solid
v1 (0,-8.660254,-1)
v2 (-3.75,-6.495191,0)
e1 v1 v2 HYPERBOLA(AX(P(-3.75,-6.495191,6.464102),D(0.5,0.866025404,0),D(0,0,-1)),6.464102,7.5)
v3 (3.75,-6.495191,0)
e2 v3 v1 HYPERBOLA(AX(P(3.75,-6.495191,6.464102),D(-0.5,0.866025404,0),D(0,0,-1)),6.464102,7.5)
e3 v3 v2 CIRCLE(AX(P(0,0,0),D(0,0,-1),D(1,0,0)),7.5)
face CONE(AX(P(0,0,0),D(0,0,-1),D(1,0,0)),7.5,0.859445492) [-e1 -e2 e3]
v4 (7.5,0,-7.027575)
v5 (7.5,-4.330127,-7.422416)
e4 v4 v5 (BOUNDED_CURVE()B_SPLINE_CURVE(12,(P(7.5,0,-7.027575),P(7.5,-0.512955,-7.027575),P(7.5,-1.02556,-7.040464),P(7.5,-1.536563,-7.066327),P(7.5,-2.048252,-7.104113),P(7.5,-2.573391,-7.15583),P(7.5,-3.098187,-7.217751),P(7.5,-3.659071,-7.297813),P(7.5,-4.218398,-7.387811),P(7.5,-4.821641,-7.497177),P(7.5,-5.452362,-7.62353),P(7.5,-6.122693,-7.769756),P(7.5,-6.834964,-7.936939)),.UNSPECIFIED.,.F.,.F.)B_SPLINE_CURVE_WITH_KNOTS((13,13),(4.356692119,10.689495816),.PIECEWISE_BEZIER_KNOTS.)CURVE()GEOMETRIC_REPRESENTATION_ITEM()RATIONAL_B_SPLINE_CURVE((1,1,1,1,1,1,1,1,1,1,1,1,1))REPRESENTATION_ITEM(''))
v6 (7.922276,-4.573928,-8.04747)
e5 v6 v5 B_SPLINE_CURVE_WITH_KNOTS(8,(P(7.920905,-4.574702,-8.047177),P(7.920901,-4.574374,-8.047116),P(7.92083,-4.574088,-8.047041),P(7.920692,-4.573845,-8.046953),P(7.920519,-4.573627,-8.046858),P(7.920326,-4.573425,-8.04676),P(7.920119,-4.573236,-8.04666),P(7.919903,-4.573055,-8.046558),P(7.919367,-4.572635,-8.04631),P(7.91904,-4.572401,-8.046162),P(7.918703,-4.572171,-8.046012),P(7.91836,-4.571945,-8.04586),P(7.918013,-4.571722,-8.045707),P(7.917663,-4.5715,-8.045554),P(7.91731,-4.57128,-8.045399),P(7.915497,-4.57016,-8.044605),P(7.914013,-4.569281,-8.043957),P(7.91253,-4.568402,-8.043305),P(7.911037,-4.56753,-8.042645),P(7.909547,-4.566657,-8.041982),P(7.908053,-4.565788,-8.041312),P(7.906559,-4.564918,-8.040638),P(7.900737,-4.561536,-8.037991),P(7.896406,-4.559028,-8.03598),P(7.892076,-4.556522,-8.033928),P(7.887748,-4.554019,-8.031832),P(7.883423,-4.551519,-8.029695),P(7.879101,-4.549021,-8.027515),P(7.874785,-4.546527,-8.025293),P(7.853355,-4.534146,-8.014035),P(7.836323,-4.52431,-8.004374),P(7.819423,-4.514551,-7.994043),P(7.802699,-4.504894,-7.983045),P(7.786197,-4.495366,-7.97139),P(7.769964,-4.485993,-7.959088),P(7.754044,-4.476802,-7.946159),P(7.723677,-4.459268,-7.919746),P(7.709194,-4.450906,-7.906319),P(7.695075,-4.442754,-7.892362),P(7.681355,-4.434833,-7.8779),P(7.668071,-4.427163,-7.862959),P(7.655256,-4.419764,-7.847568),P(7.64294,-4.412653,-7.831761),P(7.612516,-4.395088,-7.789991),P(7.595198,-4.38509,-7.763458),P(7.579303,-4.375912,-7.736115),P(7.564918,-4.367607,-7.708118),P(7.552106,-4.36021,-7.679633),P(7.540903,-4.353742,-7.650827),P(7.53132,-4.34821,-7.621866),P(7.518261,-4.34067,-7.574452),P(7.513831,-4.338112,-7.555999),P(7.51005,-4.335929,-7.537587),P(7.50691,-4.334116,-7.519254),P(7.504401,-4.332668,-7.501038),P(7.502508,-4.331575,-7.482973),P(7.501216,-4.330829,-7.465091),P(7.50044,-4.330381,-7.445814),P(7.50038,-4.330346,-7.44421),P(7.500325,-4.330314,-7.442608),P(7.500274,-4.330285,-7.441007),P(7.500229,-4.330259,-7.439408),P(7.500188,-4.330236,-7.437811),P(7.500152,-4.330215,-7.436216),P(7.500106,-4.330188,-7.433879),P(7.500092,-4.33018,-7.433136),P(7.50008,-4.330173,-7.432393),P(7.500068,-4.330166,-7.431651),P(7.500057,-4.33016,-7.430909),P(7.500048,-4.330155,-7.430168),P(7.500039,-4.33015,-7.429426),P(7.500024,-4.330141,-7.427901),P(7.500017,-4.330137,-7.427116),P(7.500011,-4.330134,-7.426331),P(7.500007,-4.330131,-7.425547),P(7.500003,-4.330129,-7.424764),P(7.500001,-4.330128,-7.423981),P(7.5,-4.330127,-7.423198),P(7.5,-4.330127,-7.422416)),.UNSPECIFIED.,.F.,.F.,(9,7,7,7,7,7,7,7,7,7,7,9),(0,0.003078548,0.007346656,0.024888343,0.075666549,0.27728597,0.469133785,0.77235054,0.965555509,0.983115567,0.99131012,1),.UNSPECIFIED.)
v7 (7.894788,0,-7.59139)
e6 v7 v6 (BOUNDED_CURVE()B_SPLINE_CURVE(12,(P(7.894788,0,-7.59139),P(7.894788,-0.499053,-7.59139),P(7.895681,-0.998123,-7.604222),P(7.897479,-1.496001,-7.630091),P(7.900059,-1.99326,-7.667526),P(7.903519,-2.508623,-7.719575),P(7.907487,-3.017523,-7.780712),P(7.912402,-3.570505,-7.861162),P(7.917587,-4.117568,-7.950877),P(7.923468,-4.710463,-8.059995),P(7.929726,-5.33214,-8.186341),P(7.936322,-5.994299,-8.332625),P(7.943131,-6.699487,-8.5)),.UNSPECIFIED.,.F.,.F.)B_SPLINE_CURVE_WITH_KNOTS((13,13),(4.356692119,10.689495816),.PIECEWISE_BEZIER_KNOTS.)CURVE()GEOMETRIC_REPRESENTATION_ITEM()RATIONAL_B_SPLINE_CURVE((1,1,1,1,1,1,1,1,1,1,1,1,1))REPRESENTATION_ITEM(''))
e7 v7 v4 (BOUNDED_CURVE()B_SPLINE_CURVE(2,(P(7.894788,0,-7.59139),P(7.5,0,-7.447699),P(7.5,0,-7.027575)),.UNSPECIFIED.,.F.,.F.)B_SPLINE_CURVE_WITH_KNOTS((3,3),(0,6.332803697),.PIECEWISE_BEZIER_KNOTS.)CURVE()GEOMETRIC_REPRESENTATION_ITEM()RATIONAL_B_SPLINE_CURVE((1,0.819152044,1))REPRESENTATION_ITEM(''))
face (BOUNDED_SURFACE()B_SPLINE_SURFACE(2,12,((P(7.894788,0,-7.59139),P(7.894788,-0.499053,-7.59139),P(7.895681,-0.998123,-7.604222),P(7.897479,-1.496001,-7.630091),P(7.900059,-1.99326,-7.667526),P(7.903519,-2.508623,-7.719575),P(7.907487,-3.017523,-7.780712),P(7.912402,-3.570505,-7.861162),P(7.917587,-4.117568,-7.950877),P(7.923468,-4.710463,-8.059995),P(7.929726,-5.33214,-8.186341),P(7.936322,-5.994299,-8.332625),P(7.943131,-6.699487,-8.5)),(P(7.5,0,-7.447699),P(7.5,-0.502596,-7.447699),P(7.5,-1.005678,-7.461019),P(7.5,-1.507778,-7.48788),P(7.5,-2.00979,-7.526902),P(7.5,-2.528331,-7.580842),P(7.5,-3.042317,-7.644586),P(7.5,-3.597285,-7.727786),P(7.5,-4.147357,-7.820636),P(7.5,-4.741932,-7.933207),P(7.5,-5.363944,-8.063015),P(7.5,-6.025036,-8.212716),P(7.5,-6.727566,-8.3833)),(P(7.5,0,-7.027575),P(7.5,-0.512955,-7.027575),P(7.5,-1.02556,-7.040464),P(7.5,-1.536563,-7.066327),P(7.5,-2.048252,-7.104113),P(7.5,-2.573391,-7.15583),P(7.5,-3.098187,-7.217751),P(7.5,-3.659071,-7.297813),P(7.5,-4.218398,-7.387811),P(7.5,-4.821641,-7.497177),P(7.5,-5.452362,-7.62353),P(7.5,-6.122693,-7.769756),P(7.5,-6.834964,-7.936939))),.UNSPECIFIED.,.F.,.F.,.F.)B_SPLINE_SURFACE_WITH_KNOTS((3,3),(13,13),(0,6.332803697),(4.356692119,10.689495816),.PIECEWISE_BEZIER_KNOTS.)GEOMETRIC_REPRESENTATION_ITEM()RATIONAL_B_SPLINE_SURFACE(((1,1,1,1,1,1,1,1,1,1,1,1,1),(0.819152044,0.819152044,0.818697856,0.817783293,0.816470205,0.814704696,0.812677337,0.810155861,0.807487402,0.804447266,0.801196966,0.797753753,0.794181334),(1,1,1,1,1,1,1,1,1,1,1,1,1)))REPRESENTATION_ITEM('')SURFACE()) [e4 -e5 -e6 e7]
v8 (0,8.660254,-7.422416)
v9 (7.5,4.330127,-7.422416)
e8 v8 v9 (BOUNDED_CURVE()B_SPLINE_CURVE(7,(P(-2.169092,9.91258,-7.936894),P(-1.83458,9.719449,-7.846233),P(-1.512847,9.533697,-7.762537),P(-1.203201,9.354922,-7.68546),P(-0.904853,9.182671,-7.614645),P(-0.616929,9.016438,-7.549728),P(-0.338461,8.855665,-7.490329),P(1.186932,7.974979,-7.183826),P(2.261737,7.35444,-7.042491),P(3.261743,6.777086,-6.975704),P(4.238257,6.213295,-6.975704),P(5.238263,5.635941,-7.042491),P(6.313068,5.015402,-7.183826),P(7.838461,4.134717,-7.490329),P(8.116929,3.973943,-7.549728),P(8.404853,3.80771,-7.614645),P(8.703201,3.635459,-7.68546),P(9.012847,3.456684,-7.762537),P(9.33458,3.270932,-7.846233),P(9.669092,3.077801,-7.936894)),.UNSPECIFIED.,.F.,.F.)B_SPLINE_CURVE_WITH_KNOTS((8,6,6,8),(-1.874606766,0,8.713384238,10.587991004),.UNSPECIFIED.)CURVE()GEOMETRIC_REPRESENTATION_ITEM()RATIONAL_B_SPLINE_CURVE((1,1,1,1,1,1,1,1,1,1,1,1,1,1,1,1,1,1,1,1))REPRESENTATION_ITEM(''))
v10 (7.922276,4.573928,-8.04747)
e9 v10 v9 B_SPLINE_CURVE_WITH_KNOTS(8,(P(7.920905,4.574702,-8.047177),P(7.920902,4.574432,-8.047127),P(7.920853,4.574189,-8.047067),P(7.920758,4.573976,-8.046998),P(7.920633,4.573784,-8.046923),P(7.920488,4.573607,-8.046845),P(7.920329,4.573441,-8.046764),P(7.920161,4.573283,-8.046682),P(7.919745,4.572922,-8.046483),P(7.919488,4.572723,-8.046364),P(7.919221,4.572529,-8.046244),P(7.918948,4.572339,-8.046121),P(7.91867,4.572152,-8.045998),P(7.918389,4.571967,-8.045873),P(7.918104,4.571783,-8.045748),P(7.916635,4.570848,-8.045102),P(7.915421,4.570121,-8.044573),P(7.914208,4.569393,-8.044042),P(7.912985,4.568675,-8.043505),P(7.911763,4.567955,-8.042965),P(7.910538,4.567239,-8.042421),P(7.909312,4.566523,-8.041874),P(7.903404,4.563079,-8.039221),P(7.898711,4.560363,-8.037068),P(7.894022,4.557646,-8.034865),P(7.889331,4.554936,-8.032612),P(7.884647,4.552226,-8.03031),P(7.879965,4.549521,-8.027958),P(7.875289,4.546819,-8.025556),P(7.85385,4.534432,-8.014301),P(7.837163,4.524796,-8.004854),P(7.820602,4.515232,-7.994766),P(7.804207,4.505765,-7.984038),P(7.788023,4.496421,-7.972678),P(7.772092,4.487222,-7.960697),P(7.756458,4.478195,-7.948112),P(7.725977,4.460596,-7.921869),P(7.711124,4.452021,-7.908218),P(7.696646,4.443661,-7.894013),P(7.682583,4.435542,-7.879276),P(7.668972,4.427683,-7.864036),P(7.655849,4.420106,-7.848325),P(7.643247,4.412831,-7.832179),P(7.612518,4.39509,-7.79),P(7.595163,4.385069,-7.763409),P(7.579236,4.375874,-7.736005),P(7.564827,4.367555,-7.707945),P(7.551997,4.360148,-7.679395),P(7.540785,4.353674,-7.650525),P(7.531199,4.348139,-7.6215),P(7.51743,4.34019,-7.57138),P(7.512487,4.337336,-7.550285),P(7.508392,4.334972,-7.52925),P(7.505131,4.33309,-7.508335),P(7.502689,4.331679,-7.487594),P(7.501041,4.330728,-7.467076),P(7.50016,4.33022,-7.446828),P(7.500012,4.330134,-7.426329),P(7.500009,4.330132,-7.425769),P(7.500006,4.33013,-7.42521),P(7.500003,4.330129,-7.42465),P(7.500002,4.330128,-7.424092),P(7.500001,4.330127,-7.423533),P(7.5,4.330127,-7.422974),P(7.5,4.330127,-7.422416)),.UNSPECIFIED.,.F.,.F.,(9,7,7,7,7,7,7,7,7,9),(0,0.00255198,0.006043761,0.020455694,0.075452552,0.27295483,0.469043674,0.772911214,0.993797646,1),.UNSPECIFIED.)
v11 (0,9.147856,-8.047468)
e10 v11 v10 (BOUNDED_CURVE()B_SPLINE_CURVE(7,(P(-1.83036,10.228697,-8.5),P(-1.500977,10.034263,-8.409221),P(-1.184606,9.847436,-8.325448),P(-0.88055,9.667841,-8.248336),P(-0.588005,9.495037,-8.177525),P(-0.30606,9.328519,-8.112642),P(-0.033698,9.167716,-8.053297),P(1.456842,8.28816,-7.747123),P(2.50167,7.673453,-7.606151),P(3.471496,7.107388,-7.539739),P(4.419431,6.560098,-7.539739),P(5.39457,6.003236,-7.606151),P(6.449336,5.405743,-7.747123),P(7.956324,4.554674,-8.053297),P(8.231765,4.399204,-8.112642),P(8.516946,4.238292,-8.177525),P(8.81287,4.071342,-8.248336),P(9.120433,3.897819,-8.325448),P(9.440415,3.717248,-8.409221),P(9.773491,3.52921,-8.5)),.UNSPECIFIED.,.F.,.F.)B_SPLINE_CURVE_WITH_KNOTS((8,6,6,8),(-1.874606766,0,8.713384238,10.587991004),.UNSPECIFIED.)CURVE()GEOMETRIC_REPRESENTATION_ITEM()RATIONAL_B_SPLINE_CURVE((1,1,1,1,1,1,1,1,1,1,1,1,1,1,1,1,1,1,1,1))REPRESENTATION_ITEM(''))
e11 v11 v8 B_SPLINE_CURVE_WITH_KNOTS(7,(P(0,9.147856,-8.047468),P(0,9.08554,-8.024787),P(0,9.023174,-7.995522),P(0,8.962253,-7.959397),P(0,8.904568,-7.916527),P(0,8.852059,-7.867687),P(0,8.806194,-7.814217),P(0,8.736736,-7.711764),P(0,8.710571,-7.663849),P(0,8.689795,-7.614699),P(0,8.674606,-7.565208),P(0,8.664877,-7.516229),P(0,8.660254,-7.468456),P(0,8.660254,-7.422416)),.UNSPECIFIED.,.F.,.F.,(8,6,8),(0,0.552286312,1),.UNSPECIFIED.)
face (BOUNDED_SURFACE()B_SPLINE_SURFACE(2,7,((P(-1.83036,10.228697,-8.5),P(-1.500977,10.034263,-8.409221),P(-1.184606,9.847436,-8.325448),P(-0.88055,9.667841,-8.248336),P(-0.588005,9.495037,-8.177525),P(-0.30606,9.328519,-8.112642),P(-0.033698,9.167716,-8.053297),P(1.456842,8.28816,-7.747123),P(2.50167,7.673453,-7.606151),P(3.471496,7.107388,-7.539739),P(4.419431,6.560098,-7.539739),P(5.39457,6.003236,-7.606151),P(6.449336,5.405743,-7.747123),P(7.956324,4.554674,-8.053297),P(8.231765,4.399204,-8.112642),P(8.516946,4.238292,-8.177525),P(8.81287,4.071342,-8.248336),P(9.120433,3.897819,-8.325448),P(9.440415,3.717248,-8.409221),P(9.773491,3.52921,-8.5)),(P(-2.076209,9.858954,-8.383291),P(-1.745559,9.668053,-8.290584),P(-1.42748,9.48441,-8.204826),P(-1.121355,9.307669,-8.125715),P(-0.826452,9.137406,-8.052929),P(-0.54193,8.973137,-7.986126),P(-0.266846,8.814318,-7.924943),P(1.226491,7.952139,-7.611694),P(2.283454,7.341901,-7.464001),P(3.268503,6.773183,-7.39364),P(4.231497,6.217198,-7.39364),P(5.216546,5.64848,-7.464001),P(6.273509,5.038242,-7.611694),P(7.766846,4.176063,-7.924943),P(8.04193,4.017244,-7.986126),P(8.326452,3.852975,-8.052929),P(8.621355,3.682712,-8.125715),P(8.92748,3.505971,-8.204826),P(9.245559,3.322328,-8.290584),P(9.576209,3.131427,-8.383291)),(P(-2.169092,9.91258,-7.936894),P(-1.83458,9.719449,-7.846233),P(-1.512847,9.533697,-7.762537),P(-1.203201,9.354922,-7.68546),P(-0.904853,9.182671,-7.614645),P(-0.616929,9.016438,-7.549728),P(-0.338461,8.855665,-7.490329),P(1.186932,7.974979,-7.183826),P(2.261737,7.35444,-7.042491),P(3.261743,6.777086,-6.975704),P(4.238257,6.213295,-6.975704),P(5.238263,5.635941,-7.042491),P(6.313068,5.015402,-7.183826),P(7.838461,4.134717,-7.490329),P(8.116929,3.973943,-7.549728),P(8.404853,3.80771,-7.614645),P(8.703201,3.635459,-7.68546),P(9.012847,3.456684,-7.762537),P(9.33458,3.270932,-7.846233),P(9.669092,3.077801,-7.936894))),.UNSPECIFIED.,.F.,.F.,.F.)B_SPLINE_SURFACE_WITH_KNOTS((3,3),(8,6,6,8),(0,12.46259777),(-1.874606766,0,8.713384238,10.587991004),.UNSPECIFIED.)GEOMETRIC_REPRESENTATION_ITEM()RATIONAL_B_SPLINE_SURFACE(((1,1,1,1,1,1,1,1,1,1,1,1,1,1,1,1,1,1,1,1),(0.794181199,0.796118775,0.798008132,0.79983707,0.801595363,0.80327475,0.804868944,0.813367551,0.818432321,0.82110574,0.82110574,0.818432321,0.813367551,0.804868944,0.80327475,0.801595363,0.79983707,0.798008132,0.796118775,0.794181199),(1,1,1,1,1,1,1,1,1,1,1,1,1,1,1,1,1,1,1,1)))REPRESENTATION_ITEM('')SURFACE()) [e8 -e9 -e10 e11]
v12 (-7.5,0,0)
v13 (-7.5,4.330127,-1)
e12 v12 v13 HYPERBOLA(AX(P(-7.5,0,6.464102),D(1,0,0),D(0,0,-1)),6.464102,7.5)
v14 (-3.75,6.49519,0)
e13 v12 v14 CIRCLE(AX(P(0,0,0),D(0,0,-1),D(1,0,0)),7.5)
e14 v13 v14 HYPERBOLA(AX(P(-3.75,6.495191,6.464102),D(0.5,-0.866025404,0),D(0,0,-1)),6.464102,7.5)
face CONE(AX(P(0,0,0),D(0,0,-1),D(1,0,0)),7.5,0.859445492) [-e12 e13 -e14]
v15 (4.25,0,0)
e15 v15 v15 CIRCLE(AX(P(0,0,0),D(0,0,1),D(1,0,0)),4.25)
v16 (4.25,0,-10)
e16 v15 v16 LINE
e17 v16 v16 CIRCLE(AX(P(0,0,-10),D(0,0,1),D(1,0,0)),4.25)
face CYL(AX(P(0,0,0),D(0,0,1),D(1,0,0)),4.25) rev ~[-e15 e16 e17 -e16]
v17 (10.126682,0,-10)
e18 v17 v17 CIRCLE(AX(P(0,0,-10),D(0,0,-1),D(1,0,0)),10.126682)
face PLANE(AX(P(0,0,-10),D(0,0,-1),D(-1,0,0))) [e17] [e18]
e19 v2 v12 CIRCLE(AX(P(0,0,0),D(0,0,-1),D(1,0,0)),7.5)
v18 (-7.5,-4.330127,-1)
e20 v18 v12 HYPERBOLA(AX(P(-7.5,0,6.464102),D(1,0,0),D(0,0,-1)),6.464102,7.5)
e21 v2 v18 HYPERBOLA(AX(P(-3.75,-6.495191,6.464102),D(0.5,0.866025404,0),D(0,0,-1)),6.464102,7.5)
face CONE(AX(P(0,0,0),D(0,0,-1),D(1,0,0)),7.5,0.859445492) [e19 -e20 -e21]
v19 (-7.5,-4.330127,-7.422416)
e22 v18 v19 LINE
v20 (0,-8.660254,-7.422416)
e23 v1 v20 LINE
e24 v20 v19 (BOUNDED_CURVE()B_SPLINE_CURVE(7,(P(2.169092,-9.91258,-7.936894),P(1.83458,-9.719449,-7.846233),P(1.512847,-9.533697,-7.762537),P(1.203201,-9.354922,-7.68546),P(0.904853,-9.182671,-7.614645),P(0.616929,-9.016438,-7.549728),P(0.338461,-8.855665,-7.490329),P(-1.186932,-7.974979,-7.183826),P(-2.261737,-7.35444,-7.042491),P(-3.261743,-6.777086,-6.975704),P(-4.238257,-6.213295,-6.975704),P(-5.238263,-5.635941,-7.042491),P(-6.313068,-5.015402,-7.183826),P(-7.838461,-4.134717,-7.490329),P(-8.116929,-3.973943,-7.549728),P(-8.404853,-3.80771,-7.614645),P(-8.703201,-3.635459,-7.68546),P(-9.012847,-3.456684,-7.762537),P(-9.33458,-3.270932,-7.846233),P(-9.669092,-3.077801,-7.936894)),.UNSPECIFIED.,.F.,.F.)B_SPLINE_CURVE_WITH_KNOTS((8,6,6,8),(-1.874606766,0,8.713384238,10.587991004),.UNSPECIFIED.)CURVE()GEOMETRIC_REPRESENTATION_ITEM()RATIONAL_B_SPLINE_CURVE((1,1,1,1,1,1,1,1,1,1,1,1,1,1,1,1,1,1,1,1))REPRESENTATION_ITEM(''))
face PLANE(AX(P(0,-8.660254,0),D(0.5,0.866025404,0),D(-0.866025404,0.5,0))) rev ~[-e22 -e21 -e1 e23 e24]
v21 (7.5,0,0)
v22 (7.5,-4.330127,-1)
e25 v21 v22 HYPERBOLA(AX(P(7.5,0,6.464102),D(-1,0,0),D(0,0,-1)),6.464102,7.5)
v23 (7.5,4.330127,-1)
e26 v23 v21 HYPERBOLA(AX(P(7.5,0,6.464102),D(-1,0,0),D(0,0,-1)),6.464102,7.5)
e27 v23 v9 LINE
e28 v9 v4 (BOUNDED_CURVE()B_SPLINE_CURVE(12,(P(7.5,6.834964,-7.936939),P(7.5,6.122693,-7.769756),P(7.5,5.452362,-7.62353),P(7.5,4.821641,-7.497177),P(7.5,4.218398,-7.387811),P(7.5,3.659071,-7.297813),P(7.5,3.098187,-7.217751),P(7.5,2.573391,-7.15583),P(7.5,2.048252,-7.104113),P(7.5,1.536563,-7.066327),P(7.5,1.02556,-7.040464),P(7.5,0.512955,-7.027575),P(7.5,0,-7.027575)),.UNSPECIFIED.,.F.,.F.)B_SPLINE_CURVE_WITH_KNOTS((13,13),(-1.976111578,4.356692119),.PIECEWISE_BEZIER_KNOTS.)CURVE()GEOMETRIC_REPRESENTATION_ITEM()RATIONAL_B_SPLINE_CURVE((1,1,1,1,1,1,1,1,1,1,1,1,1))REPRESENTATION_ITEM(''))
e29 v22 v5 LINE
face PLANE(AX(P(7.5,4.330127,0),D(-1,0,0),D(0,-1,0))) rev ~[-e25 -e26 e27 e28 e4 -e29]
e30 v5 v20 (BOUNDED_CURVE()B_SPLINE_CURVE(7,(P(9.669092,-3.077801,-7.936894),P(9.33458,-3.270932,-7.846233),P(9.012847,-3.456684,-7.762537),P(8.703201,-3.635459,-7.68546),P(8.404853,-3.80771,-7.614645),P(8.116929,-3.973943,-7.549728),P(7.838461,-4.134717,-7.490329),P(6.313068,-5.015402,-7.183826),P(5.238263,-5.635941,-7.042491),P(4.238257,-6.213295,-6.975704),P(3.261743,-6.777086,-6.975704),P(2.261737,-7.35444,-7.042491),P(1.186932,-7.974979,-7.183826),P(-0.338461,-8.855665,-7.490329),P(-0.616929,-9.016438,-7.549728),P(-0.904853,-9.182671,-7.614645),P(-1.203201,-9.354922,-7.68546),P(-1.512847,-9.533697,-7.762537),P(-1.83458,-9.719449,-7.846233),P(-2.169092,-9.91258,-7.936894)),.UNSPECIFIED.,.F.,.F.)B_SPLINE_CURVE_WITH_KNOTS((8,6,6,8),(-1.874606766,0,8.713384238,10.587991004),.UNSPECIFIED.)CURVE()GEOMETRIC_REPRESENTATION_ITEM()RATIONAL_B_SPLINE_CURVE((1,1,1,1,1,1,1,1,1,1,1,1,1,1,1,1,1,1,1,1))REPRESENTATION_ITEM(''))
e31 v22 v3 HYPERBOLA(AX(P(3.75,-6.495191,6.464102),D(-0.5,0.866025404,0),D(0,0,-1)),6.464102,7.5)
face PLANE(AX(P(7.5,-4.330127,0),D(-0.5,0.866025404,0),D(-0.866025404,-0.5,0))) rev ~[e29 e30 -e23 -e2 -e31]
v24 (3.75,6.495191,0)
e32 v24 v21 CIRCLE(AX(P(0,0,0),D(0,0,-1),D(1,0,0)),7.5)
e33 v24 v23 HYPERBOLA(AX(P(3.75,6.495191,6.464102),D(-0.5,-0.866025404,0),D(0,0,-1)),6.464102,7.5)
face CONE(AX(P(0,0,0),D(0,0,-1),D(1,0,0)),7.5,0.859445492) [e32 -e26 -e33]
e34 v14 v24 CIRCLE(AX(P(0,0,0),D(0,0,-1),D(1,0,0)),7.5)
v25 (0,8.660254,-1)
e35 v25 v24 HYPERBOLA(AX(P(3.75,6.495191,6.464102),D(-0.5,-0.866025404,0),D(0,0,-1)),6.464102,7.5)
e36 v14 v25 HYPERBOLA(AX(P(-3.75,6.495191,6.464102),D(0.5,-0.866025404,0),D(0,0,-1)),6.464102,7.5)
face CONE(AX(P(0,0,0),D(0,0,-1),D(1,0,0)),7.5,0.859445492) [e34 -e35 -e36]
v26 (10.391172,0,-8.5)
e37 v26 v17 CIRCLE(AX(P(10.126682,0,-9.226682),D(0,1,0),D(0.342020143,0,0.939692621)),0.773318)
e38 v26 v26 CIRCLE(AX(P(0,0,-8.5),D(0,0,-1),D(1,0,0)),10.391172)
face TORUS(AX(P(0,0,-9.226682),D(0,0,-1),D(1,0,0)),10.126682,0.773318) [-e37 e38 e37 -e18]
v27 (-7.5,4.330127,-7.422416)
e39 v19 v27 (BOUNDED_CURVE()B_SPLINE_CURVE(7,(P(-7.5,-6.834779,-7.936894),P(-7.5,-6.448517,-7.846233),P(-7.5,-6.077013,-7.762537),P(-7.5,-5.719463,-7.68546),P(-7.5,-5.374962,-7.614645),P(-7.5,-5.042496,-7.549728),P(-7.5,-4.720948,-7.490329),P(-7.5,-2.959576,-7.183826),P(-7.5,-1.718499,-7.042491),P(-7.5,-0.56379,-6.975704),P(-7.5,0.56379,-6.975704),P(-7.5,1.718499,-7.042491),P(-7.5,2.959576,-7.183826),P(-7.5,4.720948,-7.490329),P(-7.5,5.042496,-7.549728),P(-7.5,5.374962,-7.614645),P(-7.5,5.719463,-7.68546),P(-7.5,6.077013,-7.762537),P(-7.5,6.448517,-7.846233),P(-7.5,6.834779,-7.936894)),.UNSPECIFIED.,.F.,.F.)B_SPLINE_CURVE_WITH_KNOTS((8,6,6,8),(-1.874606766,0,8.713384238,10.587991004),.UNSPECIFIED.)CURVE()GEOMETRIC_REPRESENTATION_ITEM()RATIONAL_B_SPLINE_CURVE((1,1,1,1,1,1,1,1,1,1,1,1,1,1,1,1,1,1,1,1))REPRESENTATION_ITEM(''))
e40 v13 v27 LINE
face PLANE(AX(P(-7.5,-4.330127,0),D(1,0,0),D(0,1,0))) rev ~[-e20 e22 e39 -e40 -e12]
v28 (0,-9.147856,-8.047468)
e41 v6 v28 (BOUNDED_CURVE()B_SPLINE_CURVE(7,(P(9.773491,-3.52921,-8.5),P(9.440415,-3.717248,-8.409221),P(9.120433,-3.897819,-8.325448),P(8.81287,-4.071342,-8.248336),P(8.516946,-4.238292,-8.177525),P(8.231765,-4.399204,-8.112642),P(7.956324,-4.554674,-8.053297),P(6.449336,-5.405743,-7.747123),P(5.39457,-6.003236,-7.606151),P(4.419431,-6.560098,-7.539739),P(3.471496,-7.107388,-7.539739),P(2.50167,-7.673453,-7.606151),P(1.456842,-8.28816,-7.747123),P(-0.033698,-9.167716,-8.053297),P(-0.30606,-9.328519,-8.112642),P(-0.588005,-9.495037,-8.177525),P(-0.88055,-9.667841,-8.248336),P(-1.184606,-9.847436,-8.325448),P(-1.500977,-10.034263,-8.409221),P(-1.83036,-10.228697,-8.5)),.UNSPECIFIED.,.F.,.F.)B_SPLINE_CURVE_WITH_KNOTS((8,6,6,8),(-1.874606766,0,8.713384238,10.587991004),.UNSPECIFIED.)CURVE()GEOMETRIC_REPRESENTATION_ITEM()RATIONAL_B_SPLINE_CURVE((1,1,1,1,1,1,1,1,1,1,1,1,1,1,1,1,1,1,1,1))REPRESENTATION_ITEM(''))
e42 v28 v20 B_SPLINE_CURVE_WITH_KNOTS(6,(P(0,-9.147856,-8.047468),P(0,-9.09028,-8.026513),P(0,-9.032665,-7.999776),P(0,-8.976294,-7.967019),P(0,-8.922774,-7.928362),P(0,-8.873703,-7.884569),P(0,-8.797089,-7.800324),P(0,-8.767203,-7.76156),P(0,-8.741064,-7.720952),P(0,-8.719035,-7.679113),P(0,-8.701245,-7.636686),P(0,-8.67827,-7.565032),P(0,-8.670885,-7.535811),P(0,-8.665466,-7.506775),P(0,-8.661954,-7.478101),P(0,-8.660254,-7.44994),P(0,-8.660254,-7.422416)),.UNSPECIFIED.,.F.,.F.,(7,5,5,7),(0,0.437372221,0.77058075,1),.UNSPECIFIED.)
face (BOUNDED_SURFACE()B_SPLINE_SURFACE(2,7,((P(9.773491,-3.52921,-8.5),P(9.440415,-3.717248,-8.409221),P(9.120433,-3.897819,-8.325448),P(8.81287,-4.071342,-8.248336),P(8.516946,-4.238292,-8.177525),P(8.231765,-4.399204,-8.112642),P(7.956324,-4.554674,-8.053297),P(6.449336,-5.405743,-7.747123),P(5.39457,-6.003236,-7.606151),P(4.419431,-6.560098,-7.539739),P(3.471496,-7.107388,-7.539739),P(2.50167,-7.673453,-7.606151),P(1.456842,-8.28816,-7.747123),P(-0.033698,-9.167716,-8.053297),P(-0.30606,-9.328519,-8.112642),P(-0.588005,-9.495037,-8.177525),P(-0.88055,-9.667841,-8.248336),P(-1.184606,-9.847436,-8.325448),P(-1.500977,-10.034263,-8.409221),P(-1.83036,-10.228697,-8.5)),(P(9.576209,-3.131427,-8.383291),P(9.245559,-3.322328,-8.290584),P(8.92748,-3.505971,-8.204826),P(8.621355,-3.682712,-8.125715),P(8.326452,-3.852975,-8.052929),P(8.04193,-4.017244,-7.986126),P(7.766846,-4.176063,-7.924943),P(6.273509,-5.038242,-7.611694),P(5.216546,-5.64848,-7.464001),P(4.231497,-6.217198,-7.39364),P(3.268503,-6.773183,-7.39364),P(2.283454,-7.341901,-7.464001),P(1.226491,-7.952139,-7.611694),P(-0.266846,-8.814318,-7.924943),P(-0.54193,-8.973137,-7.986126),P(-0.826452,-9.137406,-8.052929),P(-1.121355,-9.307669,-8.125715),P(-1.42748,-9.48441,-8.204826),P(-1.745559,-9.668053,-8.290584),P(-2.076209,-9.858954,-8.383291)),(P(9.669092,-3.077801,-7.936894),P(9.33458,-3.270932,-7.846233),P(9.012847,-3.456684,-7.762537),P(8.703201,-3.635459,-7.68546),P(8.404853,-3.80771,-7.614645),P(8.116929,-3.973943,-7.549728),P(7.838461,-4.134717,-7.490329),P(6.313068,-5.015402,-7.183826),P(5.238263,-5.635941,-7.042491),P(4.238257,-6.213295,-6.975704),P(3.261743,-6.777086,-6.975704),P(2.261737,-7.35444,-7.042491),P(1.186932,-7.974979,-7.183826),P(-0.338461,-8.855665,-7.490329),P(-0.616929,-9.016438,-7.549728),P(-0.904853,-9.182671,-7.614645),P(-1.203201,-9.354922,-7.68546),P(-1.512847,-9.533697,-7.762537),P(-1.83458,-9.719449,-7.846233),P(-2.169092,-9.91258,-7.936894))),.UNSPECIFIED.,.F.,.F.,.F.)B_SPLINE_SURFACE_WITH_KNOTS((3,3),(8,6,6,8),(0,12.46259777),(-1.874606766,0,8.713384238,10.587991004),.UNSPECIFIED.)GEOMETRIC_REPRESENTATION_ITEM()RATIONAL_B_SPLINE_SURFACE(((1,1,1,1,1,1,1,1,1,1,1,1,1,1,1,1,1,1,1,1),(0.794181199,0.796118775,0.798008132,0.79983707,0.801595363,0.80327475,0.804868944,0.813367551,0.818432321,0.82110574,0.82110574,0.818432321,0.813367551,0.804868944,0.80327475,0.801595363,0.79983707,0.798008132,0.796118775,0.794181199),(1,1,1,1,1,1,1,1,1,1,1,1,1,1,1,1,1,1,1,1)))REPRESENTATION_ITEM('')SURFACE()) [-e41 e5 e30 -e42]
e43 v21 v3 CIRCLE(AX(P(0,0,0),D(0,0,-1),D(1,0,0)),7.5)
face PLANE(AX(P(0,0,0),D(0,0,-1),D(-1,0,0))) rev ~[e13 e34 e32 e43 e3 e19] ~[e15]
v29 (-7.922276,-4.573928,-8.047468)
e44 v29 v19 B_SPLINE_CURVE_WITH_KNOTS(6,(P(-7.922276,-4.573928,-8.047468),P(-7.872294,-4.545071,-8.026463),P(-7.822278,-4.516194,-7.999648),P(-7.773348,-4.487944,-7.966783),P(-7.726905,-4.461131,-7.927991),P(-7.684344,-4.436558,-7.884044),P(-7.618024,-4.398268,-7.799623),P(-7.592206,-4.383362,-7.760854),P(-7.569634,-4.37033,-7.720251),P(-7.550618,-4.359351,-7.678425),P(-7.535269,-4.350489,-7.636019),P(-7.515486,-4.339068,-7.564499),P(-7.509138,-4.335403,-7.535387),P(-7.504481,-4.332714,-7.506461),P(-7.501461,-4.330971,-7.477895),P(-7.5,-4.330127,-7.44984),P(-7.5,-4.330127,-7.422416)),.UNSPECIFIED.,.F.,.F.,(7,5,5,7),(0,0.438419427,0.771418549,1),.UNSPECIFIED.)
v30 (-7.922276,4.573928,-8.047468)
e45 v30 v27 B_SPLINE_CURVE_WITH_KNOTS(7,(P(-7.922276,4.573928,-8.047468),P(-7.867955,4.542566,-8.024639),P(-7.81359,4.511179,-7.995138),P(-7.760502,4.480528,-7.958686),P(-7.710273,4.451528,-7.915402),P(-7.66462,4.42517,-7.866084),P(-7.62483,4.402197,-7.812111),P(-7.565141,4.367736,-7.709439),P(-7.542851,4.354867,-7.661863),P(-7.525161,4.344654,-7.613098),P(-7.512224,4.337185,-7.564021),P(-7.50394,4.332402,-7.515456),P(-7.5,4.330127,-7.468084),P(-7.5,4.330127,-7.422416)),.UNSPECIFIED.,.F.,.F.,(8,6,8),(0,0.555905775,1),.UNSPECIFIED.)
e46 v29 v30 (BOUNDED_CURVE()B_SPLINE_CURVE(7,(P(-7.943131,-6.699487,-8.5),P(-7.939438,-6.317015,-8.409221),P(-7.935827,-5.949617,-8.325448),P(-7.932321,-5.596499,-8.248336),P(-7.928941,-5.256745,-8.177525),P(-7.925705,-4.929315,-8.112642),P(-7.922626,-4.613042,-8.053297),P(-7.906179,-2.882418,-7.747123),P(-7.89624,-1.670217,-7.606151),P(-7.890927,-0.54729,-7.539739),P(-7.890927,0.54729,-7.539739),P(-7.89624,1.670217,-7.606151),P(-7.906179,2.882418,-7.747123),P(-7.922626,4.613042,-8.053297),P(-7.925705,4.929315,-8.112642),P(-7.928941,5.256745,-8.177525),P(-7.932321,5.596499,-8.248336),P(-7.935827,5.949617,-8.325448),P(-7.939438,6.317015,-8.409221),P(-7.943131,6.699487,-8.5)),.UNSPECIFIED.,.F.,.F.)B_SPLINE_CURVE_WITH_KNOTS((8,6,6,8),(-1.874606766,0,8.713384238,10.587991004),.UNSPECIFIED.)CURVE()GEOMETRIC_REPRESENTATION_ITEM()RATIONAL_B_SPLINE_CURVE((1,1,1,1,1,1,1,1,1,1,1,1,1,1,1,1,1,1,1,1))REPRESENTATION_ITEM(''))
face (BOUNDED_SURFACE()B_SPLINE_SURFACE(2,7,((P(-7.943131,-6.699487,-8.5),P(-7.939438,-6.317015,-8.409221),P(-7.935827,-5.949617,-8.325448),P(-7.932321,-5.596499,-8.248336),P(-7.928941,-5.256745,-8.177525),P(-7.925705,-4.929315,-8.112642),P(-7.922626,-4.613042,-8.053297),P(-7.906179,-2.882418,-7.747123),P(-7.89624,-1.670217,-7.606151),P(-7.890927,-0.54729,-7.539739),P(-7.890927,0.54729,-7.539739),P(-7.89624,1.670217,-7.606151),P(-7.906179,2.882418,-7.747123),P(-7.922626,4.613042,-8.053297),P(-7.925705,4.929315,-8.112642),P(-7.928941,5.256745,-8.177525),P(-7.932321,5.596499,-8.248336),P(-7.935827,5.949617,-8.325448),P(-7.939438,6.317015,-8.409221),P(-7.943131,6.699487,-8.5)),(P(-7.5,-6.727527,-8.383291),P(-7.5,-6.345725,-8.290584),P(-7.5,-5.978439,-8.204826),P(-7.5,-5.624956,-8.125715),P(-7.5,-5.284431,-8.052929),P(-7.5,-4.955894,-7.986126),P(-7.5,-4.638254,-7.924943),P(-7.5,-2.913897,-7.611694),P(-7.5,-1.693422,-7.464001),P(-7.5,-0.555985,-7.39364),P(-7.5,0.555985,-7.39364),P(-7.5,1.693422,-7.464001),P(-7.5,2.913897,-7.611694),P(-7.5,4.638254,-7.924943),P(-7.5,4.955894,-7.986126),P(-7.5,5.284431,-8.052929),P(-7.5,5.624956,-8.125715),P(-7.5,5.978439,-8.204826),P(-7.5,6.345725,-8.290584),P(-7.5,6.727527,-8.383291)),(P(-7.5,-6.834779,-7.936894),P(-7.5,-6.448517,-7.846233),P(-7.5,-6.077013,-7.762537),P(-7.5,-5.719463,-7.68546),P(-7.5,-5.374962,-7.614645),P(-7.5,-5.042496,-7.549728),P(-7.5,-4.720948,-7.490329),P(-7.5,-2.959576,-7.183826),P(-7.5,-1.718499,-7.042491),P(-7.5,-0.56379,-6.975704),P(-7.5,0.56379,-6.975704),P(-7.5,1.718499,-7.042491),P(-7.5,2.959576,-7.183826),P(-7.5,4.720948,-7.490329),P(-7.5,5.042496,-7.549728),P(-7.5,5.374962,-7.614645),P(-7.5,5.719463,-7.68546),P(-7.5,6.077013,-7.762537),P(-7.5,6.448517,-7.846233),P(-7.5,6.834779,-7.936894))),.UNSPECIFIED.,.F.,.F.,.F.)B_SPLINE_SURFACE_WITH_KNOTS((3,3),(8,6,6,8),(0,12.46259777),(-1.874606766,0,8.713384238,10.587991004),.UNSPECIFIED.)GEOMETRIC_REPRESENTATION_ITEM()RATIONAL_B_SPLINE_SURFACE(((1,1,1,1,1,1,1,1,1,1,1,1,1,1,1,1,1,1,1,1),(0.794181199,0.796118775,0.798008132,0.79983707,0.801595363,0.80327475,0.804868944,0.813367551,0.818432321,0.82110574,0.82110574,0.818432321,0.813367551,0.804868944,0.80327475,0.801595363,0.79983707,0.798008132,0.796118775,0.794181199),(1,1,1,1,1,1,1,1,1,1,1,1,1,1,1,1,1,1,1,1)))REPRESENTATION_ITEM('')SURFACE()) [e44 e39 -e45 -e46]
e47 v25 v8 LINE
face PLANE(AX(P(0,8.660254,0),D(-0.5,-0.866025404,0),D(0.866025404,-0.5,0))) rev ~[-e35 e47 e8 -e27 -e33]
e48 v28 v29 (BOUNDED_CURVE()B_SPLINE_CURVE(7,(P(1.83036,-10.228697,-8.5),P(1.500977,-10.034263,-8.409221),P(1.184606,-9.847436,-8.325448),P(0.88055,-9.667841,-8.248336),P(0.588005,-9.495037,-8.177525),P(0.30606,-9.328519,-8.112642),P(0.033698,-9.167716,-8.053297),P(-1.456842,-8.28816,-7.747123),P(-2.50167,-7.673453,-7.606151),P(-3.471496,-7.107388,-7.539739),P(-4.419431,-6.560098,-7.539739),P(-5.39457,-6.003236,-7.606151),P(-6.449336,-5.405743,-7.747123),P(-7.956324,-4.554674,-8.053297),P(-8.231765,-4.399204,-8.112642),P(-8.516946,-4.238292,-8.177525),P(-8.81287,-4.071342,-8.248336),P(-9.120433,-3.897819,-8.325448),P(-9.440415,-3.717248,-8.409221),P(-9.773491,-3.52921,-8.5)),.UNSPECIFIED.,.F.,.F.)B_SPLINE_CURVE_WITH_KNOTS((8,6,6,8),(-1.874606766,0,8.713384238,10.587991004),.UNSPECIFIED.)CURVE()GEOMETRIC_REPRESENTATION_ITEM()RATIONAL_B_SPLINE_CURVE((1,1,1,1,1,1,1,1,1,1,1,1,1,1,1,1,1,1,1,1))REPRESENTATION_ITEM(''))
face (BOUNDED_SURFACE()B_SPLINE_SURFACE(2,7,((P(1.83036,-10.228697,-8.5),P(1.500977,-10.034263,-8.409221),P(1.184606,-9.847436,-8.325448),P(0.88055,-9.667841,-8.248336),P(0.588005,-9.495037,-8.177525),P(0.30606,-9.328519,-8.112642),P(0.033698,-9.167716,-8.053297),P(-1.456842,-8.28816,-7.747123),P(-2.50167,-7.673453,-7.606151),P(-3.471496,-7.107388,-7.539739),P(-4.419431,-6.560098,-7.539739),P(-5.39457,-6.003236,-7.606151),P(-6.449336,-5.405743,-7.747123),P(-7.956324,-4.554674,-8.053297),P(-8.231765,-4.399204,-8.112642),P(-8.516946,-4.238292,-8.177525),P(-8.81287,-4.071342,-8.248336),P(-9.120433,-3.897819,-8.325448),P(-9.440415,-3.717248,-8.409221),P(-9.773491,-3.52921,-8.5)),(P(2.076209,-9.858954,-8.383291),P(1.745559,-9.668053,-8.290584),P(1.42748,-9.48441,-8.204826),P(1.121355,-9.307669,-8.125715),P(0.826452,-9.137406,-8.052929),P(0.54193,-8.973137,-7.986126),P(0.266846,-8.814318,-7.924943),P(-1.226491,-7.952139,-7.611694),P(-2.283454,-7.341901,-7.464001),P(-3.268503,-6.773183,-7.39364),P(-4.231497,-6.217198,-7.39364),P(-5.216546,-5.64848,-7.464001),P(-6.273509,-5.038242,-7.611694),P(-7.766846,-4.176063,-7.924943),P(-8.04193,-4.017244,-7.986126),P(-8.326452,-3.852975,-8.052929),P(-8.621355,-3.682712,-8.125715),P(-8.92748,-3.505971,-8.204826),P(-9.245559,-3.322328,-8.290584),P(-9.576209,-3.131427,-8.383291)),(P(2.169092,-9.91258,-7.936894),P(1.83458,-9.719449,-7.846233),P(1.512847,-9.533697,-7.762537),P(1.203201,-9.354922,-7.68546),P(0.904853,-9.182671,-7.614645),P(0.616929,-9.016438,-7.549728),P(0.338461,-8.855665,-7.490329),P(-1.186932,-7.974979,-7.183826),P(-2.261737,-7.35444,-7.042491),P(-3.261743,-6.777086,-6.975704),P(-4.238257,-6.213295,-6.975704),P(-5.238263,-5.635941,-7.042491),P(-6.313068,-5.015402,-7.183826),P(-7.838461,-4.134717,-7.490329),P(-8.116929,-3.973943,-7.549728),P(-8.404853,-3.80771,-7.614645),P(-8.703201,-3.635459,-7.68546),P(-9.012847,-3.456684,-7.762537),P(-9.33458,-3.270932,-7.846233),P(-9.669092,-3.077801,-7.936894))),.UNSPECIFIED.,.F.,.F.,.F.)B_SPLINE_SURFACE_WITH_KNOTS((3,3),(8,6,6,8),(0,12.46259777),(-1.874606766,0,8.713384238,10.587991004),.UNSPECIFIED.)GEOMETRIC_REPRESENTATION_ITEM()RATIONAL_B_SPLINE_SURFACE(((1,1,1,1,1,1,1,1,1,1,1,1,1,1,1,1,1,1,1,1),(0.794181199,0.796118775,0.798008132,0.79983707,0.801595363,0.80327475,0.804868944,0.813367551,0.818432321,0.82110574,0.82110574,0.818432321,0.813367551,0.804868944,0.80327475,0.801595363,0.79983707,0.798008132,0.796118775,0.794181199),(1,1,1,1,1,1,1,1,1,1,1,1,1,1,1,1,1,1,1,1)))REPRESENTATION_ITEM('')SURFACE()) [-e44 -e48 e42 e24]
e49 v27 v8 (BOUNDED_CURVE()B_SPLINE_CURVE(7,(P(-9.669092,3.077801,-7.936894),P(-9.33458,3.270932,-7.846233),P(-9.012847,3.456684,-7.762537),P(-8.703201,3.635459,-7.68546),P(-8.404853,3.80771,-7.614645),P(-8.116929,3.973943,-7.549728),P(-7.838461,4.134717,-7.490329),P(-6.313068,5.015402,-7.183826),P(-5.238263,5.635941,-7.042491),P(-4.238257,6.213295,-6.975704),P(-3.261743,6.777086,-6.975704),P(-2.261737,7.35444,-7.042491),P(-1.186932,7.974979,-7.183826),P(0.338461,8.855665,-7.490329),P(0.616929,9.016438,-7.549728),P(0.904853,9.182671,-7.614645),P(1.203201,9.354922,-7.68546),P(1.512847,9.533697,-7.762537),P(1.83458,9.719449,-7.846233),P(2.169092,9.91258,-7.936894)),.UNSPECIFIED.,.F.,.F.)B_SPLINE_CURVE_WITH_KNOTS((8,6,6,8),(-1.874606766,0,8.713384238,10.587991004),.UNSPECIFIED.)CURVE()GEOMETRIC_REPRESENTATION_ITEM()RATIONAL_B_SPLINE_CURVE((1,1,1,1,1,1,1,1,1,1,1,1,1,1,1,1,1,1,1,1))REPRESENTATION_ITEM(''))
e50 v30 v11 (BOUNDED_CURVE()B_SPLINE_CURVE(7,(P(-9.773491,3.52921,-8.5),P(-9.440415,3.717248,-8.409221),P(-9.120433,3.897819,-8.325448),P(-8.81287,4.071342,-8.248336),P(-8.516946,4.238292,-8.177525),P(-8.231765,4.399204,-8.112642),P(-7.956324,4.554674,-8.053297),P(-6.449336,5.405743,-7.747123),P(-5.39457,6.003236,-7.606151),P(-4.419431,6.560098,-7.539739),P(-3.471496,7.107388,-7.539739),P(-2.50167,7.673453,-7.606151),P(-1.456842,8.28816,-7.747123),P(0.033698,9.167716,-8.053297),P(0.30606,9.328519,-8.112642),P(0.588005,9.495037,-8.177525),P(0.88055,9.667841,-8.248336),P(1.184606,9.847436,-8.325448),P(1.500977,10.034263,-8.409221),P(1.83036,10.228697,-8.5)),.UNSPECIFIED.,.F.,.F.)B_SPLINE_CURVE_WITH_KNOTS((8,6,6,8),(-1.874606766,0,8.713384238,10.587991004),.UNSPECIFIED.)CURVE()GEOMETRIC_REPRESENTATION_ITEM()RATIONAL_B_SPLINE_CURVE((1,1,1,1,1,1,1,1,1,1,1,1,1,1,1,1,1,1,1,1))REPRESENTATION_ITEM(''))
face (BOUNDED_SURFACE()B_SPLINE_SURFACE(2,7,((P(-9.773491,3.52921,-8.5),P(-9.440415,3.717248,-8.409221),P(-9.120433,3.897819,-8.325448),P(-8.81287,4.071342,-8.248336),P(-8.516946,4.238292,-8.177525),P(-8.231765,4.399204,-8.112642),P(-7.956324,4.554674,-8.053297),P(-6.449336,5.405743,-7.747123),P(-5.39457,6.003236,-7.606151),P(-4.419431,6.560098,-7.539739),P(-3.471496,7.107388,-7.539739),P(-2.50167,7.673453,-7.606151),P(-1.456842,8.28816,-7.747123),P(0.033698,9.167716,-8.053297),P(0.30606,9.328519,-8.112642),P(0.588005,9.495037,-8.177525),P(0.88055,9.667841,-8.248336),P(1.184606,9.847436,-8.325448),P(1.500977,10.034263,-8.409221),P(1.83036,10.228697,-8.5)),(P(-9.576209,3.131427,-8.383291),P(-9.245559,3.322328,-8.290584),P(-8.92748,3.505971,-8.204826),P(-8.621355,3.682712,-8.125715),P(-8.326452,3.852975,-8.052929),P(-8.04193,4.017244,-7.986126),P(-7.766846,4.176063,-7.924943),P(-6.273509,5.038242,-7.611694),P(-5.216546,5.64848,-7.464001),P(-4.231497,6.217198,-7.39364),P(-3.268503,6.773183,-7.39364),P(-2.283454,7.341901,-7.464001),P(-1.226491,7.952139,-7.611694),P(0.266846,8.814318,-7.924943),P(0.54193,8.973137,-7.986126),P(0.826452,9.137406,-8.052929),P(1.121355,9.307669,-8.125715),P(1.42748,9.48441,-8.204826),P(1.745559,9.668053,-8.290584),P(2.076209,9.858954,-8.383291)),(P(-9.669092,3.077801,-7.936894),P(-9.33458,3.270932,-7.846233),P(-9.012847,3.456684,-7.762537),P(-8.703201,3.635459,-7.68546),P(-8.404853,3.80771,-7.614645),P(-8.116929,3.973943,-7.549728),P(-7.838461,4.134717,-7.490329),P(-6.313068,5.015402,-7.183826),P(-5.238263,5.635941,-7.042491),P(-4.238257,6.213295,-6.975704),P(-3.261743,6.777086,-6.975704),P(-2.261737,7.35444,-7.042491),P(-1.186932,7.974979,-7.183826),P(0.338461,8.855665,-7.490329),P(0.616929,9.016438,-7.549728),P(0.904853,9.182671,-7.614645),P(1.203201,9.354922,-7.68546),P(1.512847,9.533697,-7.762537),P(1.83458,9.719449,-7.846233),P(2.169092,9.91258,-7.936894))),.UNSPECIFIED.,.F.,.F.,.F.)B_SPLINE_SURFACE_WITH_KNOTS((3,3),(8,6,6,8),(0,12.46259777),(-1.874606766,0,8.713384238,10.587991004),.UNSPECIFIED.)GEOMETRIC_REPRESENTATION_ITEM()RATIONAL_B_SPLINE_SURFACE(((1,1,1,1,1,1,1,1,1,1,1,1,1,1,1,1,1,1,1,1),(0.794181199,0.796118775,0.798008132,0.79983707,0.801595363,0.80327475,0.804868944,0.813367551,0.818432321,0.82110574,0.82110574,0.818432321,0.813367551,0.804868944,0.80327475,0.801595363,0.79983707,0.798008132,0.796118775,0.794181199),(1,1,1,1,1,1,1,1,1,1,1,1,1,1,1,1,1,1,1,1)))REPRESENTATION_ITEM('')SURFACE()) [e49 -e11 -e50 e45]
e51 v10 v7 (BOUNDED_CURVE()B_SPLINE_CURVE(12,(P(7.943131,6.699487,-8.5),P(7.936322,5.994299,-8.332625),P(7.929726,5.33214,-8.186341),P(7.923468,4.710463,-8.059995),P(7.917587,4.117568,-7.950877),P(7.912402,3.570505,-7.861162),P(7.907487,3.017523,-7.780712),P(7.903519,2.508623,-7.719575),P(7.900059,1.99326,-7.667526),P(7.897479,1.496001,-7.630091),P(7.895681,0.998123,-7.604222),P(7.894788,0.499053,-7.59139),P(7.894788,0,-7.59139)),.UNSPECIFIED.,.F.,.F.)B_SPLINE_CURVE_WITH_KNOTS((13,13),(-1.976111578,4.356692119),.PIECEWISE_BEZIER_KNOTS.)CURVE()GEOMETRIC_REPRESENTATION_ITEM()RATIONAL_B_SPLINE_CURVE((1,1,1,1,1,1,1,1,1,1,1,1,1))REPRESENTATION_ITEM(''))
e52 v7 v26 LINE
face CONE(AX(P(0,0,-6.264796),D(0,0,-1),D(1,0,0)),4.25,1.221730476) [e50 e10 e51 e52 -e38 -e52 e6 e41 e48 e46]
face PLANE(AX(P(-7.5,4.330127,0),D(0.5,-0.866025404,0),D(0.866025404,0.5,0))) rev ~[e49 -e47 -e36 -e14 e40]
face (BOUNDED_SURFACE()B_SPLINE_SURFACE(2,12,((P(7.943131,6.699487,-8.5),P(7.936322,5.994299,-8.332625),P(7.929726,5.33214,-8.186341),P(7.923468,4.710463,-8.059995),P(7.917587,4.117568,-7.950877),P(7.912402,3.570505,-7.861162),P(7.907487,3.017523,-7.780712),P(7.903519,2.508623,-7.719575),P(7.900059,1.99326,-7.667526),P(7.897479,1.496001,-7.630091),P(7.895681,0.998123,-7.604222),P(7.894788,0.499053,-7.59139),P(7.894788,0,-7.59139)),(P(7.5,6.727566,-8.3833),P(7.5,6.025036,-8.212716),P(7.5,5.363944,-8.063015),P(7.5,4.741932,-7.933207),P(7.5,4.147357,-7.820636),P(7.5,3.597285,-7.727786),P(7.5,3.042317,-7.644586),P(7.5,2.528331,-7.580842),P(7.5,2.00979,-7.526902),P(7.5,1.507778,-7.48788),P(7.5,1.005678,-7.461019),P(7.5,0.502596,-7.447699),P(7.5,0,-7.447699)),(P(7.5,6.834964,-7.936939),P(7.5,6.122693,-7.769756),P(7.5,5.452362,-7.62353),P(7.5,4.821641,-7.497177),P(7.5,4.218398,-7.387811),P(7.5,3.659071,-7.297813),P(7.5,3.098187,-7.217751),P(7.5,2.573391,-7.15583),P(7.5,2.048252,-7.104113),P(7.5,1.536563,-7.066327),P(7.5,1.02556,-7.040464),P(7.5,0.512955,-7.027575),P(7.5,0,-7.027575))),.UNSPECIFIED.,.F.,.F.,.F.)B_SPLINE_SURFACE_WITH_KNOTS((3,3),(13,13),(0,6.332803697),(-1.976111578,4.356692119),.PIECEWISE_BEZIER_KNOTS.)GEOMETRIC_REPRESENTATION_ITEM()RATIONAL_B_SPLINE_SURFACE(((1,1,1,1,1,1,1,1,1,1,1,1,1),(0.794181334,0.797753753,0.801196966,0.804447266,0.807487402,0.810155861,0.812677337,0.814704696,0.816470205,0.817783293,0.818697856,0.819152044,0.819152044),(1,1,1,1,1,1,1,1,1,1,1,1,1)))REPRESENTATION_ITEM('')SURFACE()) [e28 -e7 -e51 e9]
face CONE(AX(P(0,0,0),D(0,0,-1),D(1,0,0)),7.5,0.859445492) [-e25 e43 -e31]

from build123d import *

# Parameters (mm, degrees)
BASENUTSKE_R   = 4.25
BASENUT_DEPTH  = 10
FLANGEFILLET_R = 0.6


with BuildPart() as part:
    # BaseNutSke → BaseNut (new body)
    with BuildSketch(Plane.XY):
        Polygon((7.5, 4.330127019), (7.5, -4.330127019), (0, -8.660254038), (-7.5, -4.330127019), (-7.5, 4.330127019), (0, 8.660254038), align=None)
        Circle(BASENUTSKE_R, mode=Mode.SUBTRACT)
    extrude(amount=-BASENUT_DEPTH)

    # Sketch6 → Flange (revolve)
    with BuildSketch(Plane(origin=(0, 0, 0), x_dir=(0, 0, -1), z_dir=(1, 0, 0)), mode=Mode.PRIVATE) as flange_sk:
        with BuildLine():
            Line((6.264796164, 4.25), (8.5, 10.391172068))
            ThreePointArc((8.5, 10.391172068), (9.360966928, 10.888251556), (10, 10.126681597))
            Line((10, 10.126681597), (10, 4.25))
            Line((10, 4.25), (6.264796164, 4.25))
        make_face()
    revolve(flange_sk.sketch.rotate(Axis((0, 0, 0), (0, 0, -1)), 90), axis=Axis((0, 0, 0), (0, 0, -1)))

    # Sketch3 → Double-Chamfer (revolve, cut)
    with BuildSketch(Plane(origin=(0, 0, 0), x_dir=(0, 0, -1), z_dir=(1, 0, 0)), mode=Mode.PRIVATE) as double_chamfer_sk:
        Polygon((1, 21.360254038), (-12.7, 21.360254038), (-12.7, 7.5), (0, 7.5), (1, 8.660254038), align=None)
    revolve(double_chamfer_sk.sketch.rotate(Axis((0, 0, 0), (0, 0, -1)), 90), axis=Axis((0, 0, 0), (0, 0, -1)), mode=Mode.SUBTRACT)

    # FlangeFillet
    flangefillet_edges = [part.edges().sort_by_distance(p)[0] for p in [
        (7.5, -2.17450822, -7.560119735),
        (7.5, 2.17450822, -7.560119735),
        (3.75, -6.495190528, -7.447699425),
        (3.75, 6.495190528, -7.447699425),
        (-3.75, 6.495190528, -7.447699425),
        (-7.5, 0, -7.447699425),
        (-3.75, -6.495190528, -7.447699425),
    ]]
    fillet(flangefillet_edges, radius=FLANGEFILLET_R)


solid = part.part
